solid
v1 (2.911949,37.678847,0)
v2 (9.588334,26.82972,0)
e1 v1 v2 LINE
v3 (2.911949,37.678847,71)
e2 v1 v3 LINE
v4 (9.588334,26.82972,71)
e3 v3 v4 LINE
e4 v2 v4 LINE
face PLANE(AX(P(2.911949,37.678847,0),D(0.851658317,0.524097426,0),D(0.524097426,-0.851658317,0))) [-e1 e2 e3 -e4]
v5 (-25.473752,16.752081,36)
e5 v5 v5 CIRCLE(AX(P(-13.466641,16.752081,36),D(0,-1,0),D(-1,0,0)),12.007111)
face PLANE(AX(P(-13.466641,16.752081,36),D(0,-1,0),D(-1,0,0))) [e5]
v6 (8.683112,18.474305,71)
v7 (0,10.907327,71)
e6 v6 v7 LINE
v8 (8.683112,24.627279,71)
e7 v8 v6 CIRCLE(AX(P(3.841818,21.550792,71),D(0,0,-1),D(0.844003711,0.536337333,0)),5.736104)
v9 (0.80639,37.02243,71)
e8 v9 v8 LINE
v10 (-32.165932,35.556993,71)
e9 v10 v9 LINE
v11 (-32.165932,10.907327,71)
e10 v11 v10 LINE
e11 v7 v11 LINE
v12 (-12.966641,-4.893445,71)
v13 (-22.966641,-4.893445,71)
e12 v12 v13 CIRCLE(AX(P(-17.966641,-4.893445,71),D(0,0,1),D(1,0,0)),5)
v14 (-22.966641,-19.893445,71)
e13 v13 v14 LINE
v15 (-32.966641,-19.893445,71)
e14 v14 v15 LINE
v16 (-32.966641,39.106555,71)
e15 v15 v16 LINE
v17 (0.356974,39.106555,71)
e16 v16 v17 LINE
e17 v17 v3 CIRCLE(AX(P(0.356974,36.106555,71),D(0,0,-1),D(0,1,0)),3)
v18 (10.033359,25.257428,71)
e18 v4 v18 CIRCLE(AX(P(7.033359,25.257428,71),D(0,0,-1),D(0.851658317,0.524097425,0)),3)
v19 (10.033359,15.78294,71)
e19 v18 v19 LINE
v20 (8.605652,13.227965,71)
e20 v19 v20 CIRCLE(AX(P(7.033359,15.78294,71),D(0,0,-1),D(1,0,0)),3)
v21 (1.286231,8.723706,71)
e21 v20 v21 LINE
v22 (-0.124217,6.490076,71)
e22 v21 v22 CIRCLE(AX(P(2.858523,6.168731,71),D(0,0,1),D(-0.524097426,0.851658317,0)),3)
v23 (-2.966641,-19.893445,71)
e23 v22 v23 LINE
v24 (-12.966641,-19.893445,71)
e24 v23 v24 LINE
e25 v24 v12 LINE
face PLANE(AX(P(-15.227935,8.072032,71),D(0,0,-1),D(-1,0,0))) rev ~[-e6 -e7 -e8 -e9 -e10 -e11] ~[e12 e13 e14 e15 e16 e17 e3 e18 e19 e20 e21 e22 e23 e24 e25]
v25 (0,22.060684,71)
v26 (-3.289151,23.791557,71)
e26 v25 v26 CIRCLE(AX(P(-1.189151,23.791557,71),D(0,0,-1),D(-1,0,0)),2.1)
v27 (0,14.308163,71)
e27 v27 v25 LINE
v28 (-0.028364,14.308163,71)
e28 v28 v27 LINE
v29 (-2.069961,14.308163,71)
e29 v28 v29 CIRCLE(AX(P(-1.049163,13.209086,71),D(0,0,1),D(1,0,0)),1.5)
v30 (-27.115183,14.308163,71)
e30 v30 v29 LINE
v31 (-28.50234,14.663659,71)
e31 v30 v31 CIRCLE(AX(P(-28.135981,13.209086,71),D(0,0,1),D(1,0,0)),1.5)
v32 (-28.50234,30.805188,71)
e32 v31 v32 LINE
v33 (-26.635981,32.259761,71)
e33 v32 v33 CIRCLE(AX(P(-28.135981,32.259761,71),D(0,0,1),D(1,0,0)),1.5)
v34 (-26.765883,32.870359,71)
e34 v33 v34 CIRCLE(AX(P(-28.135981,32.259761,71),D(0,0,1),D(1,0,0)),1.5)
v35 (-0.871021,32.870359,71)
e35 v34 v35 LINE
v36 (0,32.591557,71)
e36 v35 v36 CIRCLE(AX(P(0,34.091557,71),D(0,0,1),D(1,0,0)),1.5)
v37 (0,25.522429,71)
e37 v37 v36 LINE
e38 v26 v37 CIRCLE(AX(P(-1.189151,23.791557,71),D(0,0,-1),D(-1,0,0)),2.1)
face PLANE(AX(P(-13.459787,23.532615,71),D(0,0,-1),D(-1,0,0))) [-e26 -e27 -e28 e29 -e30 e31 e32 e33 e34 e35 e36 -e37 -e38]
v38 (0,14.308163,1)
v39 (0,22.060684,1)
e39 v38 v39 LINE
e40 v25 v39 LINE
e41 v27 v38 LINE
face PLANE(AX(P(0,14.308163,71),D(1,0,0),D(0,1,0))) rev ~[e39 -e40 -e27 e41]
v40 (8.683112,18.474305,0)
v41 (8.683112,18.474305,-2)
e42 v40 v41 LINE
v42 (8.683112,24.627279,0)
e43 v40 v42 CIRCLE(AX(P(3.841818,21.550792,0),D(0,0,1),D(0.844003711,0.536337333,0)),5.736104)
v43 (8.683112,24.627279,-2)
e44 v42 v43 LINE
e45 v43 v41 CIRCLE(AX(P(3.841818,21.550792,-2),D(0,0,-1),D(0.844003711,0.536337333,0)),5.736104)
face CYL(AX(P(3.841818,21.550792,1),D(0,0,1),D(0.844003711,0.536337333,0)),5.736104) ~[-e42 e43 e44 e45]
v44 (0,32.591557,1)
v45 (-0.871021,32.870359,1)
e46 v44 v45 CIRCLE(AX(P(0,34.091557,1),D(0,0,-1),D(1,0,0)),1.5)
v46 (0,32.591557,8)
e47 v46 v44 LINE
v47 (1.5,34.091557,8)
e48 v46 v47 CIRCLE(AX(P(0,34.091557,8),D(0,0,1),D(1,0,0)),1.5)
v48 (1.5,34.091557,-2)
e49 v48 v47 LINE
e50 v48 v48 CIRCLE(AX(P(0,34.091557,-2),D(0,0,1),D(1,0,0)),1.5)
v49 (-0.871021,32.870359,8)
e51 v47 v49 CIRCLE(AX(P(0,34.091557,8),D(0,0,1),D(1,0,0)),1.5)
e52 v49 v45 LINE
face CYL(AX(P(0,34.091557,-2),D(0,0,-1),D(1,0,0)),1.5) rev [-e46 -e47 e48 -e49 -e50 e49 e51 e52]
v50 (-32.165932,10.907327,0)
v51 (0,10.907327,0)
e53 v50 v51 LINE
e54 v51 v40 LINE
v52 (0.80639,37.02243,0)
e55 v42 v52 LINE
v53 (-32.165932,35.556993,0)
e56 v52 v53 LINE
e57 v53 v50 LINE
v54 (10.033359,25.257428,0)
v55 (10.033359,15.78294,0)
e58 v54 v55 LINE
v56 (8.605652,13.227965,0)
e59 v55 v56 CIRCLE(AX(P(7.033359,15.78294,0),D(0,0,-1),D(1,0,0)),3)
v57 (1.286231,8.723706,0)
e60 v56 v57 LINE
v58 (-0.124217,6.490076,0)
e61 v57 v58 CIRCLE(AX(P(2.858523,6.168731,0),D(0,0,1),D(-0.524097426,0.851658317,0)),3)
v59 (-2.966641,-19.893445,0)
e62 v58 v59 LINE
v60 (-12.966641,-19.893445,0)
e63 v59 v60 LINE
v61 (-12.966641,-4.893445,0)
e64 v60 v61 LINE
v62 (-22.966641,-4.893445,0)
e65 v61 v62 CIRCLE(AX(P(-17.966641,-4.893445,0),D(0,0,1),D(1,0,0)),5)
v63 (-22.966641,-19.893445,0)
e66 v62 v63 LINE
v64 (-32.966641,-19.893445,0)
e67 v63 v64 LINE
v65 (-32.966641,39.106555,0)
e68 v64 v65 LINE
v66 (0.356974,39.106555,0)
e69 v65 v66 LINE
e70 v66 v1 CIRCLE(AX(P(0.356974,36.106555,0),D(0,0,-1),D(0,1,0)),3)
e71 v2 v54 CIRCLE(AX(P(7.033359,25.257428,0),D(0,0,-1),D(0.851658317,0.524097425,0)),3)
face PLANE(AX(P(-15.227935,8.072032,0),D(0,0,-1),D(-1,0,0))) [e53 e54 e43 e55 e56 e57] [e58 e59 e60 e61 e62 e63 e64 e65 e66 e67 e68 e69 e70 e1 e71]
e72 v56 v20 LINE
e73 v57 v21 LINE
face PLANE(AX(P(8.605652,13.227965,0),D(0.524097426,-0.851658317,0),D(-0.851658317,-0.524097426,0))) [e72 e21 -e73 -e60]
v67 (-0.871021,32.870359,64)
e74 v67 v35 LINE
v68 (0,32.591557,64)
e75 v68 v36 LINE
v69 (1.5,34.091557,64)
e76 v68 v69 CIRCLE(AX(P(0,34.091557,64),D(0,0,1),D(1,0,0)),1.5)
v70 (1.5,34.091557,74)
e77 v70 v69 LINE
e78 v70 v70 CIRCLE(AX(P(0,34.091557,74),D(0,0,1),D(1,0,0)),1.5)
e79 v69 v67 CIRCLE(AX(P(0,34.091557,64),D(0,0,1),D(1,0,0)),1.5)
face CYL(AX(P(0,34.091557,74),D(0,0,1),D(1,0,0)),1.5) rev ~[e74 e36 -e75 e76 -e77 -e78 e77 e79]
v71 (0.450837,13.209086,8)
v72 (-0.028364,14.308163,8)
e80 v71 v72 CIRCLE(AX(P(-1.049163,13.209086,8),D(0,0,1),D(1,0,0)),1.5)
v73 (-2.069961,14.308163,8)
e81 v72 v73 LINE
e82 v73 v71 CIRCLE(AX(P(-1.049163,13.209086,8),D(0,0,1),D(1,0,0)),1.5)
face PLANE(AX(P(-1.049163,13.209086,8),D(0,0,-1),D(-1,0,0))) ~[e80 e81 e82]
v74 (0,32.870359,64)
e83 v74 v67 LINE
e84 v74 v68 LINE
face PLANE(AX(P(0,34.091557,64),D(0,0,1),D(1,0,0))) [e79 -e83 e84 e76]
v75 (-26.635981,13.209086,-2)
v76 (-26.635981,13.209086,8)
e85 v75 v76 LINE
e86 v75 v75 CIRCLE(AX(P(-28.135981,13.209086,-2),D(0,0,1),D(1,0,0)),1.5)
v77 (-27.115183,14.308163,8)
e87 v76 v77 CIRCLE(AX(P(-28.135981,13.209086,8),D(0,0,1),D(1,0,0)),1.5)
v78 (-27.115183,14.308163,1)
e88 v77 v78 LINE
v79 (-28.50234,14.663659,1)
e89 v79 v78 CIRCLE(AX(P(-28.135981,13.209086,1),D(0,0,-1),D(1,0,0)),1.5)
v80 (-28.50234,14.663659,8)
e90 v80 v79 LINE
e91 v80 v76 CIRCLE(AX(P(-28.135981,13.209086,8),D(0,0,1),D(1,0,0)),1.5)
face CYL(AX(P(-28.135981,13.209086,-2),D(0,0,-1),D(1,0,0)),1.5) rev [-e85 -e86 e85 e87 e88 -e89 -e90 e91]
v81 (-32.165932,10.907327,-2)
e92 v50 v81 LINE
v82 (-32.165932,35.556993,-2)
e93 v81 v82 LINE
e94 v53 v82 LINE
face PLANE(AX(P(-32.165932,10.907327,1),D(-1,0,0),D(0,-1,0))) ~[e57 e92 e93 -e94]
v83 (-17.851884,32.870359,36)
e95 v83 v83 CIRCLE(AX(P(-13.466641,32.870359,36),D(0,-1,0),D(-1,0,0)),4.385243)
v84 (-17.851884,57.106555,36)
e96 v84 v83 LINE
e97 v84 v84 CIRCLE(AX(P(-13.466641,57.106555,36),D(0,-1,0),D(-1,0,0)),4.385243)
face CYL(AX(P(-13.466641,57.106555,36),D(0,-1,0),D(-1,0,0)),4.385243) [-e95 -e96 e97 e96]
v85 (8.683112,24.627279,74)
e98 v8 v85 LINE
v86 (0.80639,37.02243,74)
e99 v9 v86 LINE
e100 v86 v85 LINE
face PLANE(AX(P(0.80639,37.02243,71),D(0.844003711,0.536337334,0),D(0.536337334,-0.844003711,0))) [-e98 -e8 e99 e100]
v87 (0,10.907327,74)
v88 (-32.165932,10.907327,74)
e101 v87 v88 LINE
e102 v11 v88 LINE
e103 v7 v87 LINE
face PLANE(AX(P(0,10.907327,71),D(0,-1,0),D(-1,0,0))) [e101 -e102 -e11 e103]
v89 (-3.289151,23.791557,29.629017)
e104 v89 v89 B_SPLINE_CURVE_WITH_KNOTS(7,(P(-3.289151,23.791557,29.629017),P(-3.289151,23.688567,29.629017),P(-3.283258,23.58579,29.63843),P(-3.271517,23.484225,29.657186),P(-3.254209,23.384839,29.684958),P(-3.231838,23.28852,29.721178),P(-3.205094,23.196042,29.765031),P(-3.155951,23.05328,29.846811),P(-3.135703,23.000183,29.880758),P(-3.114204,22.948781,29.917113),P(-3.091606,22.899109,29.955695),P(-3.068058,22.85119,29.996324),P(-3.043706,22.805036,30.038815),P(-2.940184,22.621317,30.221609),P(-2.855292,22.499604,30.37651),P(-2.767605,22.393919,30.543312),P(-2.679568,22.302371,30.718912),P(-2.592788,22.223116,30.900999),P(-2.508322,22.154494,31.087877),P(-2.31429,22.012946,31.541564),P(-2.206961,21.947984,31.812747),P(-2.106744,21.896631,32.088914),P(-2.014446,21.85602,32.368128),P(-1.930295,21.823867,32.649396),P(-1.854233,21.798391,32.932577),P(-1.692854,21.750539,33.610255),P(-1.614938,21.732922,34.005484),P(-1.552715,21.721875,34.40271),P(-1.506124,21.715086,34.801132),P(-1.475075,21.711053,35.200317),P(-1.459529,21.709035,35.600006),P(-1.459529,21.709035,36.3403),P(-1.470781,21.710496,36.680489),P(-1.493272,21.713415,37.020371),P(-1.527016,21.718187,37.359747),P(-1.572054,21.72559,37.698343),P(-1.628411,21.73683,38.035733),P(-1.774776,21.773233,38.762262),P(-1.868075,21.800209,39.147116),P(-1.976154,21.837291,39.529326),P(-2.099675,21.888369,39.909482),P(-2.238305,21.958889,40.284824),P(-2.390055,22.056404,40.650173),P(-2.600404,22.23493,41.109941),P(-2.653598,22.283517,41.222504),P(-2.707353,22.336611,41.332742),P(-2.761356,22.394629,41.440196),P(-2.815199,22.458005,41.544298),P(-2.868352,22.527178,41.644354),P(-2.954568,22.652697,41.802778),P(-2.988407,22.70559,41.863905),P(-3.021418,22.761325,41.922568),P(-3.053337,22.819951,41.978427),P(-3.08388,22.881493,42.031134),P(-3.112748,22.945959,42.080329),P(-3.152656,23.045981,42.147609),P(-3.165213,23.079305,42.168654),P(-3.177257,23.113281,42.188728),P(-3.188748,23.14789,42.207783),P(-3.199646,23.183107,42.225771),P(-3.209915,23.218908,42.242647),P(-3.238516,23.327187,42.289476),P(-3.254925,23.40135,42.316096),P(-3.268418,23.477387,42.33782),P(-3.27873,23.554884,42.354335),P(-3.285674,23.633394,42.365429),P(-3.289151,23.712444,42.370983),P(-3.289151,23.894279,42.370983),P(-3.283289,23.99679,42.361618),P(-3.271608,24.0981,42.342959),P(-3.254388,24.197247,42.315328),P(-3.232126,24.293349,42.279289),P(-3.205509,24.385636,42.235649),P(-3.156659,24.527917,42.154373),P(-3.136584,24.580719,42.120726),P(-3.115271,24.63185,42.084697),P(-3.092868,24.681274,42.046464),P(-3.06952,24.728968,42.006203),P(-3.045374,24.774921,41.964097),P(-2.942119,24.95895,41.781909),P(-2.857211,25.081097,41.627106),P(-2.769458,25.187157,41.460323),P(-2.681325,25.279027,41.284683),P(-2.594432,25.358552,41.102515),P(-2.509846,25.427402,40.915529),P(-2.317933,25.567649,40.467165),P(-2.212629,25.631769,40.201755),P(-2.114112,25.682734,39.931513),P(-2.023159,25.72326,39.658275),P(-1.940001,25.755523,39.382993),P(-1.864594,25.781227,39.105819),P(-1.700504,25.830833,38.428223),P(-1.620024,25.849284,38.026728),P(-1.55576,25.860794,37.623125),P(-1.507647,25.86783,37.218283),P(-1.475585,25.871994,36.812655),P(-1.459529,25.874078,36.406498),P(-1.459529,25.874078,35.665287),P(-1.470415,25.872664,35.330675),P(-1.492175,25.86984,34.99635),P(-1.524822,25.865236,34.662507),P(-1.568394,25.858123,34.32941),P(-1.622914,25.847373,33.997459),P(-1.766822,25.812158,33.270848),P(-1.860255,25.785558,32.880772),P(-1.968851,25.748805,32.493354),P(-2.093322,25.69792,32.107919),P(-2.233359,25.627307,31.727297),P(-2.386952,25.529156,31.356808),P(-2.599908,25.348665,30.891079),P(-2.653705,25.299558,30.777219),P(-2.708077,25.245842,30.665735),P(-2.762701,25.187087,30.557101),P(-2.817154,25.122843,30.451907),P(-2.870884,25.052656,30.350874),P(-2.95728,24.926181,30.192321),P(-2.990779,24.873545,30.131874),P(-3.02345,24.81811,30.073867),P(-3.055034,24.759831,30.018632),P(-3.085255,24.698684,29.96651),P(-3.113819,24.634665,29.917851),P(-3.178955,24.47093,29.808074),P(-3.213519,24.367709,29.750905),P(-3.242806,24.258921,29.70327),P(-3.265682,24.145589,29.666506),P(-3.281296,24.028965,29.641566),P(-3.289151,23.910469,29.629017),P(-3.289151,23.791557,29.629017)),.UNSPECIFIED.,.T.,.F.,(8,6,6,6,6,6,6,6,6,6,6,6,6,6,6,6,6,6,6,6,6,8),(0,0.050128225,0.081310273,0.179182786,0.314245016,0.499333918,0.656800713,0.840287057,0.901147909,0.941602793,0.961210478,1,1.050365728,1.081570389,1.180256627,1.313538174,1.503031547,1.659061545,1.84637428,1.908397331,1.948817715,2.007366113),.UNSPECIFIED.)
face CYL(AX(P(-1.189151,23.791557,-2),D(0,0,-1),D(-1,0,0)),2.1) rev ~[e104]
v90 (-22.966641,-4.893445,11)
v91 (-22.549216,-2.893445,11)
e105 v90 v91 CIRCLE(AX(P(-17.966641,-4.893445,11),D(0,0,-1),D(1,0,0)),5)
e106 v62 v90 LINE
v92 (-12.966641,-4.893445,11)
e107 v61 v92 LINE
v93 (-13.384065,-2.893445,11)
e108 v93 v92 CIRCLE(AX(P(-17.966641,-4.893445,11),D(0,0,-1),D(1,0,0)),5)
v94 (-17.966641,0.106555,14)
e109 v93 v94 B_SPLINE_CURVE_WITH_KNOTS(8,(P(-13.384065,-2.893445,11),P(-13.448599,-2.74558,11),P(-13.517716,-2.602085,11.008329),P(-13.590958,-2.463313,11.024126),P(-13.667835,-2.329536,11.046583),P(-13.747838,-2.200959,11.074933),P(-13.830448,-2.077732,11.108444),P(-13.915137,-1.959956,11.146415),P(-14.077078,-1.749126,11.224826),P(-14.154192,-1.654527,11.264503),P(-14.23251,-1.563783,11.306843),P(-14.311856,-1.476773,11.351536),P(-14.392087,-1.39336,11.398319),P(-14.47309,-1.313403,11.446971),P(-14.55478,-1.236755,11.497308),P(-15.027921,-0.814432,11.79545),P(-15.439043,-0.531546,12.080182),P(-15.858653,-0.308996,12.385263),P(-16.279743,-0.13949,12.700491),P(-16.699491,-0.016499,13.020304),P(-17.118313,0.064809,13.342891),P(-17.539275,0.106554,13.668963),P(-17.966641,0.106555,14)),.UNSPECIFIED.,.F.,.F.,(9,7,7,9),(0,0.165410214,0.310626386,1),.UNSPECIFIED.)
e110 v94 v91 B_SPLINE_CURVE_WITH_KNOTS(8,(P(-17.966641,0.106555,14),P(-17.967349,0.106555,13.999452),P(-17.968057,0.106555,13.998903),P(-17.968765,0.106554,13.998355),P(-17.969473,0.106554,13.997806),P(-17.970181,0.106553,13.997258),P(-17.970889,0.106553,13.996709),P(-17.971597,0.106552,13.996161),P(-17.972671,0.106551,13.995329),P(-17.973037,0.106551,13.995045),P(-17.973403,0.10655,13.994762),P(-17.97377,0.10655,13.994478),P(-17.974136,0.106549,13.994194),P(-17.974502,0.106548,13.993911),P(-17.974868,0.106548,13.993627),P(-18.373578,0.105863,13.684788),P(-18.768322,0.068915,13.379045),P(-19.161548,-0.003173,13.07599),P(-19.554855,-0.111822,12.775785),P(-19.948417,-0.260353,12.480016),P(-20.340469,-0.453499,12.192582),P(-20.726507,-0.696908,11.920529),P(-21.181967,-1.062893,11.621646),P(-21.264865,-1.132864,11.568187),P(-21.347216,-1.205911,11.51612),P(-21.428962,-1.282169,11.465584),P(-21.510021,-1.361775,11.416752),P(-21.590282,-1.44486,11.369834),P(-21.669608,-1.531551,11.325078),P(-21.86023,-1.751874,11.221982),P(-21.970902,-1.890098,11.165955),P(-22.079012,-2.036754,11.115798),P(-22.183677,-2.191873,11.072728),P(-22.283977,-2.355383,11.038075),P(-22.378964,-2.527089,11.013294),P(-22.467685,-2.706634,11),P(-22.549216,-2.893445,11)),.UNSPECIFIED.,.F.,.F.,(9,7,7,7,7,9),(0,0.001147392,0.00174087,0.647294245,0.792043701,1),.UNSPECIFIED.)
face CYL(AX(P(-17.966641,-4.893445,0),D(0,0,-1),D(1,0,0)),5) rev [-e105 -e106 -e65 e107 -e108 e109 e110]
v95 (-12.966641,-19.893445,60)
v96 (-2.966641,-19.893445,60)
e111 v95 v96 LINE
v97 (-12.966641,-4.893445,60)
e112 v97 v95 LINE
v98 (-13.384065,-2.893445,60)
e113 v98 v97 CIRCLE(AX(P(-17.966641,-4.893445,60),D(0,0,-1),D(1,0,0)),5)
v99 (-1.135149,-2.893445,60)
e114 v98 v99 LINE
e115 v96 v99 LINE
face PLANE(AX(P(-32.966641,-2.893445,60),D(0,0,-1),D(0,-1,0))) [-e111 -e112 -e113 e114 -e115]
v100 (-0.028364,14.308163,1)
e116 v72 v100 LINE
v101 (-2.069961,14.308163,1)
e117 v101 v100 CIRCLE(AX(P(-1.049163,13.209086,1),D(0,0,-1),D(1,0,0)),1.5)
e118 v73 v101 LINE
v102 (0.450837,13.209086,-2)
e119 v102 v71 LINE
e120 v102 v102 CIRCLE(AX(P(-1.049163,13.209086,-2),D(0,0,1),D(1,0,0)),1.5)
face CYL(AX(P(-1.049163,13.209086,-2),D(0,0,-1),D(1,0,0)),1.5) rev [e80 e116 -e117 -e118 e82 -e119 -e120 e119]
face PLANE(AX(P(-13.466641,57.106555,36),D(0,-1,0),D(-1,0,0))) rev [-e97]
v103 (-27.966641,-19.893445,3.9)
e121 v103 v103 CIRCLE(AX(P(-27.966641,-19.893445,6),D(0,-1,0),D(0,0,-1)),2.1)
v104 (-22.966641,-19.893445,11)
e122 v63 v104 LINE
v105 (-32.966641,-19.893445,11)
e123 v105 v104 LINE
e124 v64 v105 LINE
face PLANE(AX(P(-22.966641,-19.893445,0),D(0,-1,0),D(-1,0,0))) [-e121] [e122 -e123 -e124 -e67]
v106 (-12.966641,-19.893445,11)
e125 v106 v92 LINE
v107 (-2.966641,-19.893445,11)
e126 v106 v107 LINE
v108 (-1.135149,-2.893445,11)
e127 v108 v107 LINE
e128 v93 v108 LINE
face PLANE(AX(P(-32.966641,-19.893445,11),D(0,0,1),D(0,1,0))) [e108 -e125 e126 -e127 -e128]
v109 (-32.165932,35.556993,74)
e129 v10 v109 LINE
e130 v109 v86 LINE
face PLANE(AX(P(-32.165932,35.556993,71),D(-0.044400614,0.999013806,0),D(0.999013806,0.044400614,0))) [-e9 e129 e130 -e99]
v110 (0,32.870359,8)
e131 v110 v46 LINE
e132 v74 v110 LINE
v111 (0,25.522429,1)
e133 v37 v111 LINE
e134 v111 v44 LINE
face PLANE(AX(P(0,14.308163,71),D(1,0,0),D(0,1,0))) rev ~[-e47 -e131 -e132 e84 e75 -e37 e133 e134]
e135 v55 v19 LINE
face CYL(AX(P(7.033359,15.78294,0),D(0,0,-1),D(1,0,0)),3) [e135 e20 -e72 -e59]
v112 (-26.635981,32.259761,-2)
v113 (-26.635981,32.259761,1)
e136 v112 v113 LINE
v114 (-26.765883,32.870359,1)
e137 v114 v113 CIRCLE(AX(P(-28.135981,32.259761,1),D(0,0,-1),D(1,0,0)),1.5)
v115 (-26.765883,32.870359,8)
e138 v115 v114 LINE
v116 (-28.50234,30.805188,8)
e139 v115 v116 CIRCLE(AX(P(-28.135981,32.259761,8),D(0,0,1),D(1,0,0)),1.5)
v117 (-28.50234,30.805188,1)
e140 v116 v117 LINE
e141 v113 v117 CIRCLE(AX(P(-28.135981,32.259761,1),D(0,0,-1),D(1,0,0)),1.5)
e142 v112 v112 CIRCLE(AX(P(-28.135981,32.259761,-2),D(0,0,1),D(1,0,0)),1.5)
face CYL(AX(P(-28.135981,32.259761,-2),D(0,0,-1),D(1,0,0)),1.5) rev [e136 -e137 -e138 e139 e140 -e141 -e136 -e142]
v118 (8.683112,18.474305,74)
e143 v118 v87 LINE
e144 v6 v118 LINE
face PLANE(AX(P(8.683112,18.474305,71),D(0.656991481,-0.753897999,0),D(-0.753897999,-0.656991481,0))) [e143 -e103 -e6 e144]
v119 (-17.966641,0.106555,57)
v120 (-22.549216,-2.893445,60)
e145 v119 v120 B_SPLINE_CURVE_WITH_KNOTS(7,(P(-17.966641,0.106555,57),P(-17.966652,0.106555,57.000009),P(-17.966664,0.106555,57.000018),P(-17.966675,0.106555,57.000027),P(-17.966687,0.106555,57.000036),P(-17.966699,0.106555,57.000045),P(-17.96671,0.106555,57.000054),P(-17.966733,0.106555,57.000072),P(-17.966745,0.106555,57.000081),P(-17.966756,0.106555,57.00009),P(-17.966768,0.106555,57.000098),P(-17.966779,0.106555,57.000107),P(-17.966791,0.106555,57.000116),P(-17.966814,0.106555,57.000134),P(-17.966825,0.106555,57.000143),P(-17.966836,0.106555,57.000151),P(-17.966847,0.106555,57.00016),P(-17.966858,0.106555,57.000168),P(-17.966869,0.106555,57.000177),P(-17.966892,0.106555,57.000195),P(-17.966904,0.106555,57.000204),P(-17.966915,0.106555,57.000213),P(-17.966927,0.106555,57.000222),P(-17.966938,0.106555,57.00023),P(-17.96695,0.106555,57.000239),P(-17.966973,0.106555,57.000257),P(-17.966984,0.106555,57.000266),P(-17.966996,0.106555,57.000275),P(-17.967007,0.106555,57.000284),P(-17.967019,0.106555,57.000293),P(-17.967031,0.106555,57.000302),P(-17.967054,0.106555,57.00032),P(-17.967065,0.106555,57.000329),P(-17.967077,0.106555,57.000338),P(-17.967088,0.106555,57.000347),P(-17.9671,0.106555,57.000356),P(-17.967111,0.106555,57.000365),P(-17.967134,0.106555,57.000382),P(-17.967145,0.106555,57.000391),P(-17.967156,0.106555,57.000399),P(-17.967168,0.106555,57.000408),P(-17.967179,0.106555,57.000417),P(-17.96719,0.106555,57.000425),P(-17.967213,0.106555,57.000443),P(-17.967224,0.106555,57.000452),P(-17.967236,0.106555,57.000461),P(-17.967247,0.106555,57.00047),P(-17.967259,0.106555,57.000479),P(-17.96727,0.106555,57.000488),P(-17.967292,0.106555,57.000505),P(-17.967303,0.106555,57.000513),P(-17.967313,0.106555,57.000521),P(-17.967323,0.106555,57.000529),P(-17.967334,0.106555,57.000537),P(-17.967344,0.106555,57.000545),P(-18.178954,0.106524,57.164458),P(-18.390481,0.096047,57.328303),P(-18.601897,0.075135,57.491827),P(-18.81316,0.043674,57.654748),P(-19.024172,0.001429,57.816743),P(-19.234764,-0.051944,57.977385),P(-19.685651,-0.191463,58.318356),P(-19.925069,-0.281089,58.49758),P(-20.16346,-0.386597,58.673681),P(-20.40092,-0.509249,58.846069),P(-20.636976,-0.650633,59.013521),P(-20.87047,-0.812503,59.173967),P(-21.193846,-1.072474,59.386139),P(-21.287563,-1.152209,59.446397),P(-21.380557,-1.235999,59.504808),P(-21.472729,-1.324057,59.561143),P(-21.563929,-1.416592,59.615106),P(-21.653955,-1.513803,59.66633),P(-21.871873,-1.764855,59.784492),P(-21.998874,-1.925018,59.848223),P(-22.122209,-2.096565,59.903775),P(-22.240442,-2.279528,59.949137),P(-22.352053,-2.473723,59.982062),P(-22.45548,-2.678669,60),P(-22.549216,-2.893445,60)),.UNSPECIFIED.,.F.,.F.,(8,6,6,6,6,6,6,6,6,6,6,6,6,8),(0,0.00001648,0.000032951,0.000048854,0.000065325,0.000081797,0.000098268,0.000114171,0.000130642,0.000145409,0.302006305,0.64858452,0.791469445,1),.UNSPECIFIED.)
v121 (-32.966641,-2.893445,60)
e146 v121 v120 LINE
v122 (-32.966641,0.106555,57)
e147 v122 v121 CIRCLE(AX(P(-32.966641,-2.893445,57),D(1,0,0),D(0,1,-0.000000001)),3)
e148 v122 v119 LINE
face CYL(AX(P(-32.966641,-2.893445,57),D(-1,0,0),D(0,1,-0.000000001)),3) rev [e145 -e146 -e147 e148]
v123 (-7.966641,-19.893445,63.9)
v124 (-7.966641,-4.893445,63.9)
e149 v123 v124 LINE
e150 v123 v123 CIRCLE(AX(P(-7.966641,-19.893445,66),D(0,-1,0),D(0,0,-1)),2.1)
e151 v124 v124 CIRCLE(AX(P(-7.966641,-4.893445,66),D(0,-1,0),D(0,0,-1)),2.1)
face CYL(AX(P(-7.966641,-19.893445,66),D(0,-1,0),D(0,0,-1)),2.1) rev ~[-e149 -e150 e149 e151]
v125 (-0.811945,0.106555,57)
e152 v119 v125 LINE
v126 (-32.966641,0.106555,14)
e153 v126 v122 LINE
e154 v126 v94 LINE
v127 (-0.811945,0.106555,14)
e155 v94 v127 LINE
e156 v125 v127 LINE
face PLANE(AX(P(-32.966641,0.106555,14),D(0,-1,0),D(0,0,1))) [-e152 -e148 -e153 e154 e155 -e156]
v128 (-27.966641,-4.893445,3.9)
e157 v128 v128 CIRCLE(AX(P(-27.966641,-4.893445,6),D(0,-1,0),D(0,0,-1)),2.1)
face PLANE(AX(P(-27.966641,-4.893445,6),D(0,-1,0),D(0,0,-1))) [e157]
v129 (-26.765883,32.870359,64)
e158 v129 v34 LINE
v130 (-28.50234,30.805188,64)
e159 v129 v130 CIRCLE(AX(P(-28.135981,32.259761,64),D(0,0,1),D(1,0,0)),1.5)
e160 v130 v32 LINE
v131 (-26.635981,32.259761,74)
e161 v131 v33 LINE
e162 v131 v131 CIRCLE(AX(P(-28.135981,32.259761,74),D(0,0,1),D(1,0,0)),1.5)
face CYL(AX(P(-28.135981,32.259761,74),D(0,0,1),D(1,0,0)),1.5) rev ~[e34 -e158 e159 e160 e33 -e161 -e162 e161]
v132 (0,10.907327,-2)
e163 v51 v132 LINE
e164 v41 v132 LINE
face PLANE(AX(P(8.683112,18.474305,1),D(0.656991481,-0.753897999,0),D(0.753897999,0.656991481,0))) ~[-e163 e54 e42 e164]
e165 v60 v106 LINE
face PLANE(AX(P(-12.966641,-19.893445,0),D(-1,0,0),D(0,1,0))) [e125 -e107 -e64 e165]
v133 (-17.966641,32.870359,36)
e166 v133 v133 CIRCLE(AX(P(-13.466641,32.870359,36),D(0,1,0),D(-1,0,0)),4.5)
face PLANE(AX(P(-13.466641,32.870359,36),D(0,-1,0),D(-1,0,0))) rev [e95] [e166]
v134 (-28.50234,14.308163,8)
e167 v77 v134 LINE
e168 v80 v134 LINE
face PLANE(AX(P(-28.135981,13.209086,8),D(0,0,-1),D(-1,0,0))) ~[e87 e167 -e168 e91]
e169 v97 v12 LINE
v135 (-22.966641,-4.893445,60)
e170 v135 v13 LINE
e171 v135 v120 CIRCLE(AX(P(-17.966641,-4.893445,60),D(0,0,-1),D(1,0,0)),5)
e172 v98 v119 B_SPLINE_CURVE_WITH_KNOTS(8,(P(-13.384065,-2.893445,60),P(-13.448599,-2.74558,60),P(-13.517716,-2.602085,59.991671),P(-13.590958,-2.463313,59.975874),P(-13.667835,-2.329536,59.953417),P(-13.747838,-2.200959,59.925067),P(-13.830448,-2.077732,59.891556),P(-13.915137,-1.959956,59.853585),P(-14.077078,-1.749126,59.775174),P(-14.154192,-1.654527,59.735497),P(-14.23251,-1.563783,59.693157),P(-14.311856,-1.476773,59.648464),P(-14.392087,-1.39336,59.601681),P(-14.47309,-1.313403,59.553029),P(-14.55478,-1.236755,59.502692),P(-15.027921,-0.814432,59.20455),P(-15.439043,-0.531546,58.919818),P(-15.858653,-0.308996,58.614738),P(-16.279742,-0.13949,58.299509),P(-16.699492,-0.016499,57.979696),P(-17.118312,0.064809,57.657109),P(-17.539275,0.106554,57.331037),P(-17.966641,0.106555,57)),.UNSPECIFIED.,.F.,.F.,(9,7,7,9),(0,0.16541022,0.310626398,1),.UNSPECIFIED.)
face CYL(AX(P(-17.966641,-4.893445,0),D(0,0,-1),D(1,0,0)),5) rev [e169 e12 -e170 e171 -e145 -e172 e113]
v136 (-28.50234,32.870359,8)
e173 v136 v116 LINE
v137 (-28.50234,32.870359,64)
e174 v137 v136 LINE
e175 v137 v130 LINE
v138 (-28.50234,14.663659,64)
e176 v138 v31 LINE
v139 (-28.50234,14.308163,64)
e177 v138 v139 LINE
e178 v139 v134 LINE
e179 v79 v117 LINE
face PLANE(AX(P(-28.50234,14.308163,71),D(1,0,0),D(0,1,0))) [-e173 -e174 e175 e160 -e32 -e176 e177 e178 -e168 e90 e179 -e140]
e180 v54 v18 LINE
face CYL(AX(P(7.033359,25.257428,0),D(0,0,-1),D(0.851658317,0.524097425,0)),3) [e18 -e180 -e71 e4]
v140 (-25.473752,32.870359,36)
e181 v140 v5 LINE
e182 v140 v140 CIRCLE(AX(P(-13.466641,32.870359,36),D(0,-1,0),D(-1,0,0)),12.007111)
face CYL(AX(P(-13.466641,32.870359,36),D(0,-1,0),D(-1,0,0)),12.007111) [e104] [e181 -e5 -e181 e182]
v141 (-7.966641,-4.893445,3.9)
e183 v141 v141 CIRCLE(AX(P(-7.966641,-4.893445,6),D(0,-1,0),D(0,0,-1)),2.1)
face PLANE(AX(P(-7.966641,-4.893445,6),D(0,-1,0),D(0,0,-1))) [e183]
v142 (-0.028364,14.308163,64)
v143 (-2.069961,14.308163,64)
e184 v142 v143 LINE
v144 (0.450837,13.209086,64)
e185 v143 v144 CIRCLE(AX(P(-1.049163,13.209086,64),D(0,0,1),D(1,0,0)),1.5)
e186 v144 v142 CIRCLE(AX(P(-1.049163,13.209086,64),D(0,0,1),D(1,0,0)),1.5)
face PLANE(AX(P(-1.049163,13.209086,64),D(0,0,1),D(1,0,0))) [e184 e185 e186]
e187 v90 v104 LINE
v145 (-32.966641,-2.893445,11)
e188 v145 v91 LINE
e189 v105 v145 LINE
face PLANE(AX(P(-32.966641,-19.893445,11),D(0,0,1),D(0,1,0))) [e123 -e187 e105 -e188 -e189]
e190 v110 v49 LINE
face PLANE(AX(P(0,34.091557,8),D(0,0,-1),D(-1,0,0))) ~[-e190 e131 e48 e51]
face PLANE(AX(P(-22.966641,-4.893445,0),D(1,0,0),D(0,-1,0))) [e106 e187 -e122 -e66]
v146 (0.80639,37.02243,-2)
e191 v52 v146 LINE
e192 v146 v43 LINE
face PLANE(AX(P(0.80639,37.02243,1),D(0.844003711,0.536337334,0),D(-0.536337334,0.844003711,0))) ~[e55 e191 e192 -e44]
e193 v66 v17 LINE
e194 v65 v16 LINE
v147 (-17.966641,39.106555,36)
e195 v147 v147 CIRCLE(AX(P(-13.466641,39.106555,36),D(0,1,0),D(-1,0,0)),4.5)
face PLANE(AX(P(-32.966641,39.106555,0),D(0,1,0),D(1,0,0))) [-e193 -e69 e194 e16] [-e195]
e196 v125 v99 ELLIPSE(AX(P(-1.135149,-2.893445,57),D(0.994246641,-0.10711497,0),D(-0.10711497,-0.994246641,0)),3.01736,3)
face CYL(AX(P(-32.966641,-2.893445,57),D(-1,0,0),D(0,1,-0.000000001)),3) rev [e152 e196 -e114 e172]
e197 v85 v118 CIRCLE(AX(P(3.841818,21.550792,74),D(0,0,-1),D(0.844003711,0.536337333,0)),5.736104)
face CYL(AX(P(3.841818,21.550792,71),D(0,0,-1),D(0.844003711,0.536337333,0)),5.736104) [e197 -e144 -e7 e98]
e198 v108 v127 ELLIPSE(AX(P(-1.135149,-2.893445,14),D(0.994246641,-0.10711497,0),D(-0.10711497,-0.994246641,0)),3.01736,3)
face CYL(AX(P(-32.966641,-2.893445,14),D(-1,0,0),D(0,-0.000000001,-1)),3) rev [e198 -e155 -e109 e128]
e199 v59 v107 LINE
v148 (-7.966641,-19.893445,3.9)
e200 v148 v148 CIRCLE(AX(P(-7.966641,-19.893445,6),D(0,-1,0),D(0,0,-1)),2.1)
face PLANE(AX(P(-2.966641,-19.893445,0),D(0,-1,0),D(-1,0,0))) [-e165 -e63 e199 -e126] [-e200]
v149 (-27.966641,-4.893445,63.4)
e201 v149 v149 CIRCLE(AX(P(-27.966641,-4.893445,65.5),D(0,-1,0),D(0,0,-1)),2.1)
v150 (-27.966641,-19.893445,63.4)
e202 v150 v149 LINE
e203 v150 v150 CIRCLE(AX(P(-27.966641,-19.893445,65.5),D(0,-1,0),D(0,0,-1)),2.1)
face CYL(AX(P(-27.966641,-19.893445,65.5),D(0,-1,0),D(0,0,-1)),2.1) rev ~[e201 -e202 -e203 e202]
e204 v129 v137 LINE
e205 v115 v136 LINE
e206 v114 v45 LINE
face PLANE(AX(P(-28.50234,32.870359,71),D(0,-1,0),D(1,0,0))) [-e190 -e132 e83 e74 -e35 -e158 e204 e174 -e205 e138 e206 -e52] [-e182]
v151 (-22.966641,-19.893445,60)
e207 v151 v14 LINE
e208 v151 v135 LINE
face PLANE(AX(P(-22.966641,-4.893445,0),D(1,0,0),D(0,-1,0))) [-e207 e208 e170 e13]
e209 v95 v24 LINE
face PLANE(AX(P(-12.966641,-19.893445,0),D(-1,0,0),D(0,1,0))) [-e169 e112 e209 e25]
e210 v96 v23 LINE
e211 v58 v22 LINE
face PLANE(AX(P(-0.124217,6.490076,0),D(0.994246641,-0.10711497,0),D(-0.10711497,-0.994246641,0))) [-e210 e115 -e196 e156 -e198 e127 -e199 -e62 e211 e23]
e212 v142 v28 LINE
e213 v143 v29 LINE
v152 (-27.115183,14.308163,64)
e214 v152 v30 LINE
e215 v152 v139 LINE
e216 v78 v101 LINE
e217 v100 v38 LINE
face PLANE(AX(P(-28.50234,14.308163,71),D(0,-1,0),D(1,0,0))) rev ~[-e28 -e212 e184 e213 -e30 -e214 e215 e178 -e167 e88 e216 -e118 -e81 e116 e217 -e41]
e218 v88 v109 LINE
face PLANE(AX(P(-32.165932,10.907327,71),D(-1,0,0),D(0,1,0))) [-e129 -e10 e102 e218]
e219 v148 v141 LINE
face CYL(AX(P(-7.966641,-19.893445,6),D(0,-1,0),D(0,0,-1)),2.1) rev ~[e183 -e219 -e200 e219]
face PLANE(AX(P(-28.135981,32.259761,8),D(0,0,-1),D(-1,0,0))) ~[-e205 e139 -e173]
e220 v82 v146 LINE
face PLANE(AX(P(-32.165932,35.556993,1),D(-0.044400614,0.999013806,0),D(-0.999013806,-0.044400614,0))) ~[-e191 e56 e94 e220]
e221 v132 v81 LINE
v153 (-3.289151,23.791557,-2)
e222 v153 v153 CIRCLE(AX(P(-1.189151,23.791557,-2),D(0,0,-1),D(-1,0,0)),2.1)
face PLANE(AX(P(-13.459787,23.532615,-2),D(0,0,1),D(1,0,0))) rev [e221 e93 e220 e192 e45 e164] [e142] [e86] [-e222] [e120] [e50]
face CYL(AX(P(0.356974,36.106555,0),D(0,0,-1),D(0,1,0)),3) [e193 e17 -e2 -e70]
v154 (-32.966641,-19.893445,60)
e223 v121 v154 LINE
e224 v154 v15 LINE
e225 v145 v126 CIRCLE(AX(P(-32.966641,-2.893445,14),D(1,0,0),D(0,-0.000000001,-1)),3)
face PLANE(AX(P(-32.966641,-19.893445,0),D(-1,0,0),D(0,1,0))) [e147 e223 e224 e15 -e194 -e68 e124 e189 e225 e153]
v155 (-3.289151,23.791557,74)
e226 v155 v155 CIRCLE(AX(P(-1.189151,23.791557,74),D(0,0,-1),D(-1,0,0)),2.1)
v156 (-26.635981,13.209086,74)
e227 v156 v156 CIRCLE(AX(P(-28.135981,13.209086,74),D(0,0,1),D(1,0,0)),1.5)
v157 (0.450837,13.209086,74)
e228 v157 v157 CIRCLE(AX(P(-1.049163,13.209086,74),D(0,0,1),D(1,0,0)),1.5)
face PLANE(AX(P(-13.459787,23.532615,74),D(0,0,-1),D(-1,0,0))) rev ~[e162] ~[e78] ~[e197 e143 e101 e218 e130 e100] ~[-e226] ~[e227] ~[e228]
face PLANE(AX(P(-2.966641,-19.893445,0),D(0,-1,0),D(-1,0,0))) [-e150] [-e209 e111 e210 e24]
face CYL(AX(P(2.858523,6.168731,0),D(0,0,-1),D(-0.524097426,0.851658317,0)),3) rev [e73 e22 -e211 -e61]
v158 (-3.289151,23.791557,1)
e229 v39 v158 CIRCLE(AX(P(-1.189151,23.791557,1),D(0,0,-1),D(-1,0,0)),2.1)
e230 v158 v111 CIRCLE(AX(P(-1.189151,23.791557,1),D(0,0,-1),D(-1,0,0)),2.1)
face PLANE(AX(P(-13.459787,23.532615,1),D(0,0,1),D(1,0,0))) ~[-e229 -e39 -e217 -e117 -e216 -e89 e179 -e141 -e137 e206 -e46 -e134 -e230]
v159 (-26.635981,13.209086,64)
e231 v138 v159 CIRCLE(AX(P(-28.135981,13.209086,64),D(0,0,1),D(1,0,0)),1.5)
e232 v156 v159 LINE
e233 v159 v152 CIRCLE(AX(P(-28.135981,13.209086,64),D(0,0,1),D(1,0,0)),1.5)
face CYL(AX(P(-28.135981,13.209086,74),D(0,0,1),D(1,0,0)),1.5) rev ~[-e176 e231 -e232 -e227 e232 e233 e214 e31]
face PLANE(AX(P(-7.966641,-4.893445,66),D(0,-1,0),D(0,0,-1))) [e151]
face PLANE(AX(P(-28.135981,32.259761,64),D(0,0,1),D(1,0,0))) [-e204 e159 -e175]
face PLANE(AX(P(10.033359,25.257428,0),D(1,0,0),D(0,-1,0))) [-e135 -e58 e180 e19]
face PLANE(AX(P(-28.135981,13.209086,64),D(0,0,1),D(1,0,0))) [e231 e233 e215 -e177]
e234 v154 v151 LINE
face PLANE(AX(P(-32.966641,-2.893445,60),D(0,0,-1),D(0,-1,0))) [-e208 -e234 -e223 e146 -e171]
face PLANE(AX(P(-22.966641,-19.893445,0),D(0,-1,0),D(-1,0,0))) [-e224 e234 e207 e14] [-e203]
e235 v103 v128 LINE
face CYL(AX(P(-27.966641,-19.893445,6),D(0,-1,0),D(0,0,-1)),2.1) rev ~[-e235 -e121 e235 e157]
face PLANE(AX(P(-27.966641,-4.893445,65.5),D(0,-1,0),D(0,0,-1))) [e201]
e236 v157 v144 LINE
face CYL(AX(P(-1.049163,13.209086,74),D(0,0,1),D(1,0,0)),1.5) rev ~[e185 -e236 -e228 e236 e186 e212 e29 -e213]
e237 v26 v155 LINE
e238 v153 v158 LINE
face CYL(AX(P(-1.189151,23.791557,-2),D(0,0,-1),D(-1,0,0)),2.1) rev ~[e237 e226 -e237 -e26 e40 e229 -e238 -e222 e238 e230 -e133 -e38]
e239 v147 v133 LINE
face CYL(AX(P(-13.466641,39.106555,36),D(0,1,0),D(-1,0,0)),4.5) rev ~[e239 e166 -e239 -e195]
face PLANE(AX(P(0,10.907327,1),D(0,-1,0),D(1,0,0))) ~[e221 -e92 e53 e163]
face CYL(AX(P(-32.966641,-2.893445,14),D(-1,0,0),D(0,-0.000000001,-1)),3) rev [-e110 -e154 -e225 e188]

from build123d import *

# Parameters (mm, degrees)
EXTRUDE_1_DEPTH     = 71
CUT_EXTRUDE_2_DEPTH = 71
SKETCH_3_W          = 28.502340284
SKETCH_3_H          = 18.562195974
CUT_EXTRUDE_3_DEPTH = 71
EXTRUDE_4_DEPTH     = 3
SKETCH_5_R          = 1.5
CUT_EXTRUDE_5_DEPTH = 10
SKETCH_6_R          = 4.5
CUT_EXTRUDE_6_DEPTH = 10
SKETCH_8_R          = 2.1
CUT_EXTRUDE_7_DEPTH = 15
SKETCH_9_R          = 2.1
CUT_EXTRUDE_8_DEPTH = 101.617881054


with BuildPart() as part:
    # 草图1 → 拉伸1 (new body)
    with BuildSketch(Plane.XY):
        with BuildLine():
            Line((-32.966640689, -19.89344536), (-32.966640689, 39.10655464))
            Line((-32.966640689, 39.10655464), (0.356973729, 39.10655464))
            ThreePointArc((0.356973729, 39.10655464), (1.820381254, 38.725416686), (2.911948679, 37.678846917))
            Line((2.911948679, 37.678846917), (9.588334261, 26.829720346))
            ThreePointArc((9.588334261, 26.829720346), (9.919959807, 26.074457796), (10.033359311, 25.257428069))
            Line((10.033359311, 25.257428069), (10.033359311, 15.782940222))
            ThreePointArc((10.033359311, 15.782940222), (9.652221357, 14.319532697), (8.605651588, 13.227965272))
            Line((8.605651588, 13.227965272), (1.286230543, 8.723706168))
            ThreePointArc((1.286230543, 8.723706168), (0.321919702, 7.770494191), (-0.124217104, 6.490076126))
            Line((-0.124217104, 6.490076126), (-2.966640689, -19.89344536))
            Line((-2.966640689, -19.89344536), (-12.966640689, -19.89344536))
            Line((-12.966640689, -19.89344536), (-12.966640689, -4.89344536))
            ThreePointArc((-12.966640689, -4.89344536), (-17.966640689, 0.10655464), (-22.966640689, -4.89344536))
            Line((-22.966640689, -4.89344536), (-22.966640689, -19.89344536))
            Line((-22.966640689, -19.89344536), (-32.966640689, -19.89344536))
        make_face()
    extrude(amount=EXTRUDE_1_DEPTH)

    # 草图2 → 拉伸2 (cut)
    with BuildSketch(Plane.ZY.offset(32.966640689)):
        with BuildLine():
            Line((11, -19.89344536), (11, -2.89344536))
            ThreePointArc((11, -2.89344536), (11.878679656, -0.772125016), (14, 0.10655464))
            Line((14, 0.10655464), (57, 0.10655464))
            ThreePointArc((57, 0.10655464), (59.121320344, -0.772125016), (60, -2.89344536))
            Line((60, -2.89344536), (60, -19.89344536))
            Line((60, -19.89344536), (11, -19.89344536))
        make_face()
    extrude(amount=-CUT_EXTRUDE_2_DEPTH, mode=Mode.SUBTRACT)

    # 草图3 → 拉伸3 (cut)
    with BuildSketch(Plane.XY.offset(71)):
        with Locations((-14.251170142, 23.589261476)):
            Rectangle(SKETCH_3_W, SKETCH_3_H)
    extrude(amount=-CUT_EXTRUDE_3_DEPTH, mode=Mode.SUBTRACT)

    # 草图4 → 拉伸4 (add)
    with BuildSketch(Plane.XY.offset(71)):
        with BuildLine():
            Line((-32.165931594, 13.697564937), (-32.165931594, 35.556993091))
            Line((-32.165931594, 35.556993091), (0.806390202, 37.022429615))
            Line((0.806390202, 37.022429615), (8.68311152, 24.627279014))
            ThreePointArc((8.68311152, 24.627279014), (9.577922468, 21.550792247), (8.68311152, 18.47430548))
            Line((8.68311152, 18.47430548), (0, 10.907326517))
            Line((0, 10.907326517), (-32.165931594, 10.907326517))
            Line((-32.165931594, 10.907326517), (-32.165931594, 13.697564937))
        make_face()
    extrude_4 = extrude(amount=EXTRUDE_4_DEPTH)

    # 草图5 → 拉伸5 (cut)
    with BuildSketch(Plane.XY.offset(74)):
        with Locations((-28.135981152, 32.259760911)):
            Circle(SKETCH_5_R)
        with Locations((0, 34.091556567)):
            Circle(SKETCH_5_R)
        with Locations((-1.049162635, 13.209086096)):
            Circle(SKETCH_5_R)
        with Locations((-28.135981152, 13.209086096)):
            Circle(SKETCH_5_R)
    cut_extrude_5 = extrude(amount=-CUT_EXTRUDE_5_DEPTH, mode=Mode.SUBTRACT)

    # 镜向2: 拉伸4, 拉伸5 across plane
    add(extrude_4.mirror(Plane(origin=(0, 0, 36), x_dir=(1, 0, 0), z_dir=(0, 0, -1))))
    add(cut_extrude_5.mirror(Plane(origin=(0, 0, 36), x_dir=(1, 0, 0), z_dir=(0, 0, -1))), mode=Mode.SUBTRACT)

    # 草图6 → 拉伸6 (cut)
    with BuildSketch(Plane(origin=(0, 39.10655464, 0), x_dir=(1, 0, 0), z_dir=(0, 1, 0))):
        with Locations(Location((-13.466640689, -36, 0), (0, 0, 180))):
            Circle(SKETCH_6_R)
    extrude(amount=-CUT_EXTRUDE_6_DEPTH, mode=Mode.SUBTRACT)

    # 草图7 → 旋转1 (revolve)
    with BuildSketch(Plane(origin=(0, 0, 36), x_dir=(-1, 0, 0), z_dir=(0, 0, -1))):
        Polygon((17.851883619, 32.870359463), (25.473752014, 32.870359463), (25.473752014, 16.752081431), (13.466640689, 16.752081431), (13.466640689, 57.10655464), (17.851883619, 57.10655464), align=None)
    revolve(axis=Axis((-13.466640689, 60.856315585, 36), (0, -1, 0)))

    # 草图8 → 拉伸7 (cut)
    with BuildSketch(Plane.XZ.offset(19.89344536)):
        with Locations(Location((-27.966640689, 65.5, 0), (0, 0, 270))):
            Circle(SKETCH_8_R)
        with Locations(Location((-7.966640689, 66, 0), (0, 0, 270))):
            Circle(SKETCH_8_R)
        with Locations(Location((-27.966640689, 6, 0), (0, 0, 270))):
            Circle(SKETCH_8_R)
        with Locations(Location((-7.966640689, 6, 0), (0, 0, 270))):
            Circle(SKETCH_8_R)
    extrude(amount=-CUT_EXTRUDE_7_DEPTH, mode=Mode.SUBTRACT)

    # 草图9 → 拉伸8 (cut, through all)
    with BuildSketch(Plane(origin=(0, 0, -2), x_dir=(-1, 0, 0), z_dir=(0, 0, -1))):
        with Locations((1.189151156, 23.791556567)):
            Circle(SKETCH_9_R)
    extrude(amount=-CUT_EXTRUDE_8_DEPTH, mode=Mode.SUBTRACT)


solid = part.part
